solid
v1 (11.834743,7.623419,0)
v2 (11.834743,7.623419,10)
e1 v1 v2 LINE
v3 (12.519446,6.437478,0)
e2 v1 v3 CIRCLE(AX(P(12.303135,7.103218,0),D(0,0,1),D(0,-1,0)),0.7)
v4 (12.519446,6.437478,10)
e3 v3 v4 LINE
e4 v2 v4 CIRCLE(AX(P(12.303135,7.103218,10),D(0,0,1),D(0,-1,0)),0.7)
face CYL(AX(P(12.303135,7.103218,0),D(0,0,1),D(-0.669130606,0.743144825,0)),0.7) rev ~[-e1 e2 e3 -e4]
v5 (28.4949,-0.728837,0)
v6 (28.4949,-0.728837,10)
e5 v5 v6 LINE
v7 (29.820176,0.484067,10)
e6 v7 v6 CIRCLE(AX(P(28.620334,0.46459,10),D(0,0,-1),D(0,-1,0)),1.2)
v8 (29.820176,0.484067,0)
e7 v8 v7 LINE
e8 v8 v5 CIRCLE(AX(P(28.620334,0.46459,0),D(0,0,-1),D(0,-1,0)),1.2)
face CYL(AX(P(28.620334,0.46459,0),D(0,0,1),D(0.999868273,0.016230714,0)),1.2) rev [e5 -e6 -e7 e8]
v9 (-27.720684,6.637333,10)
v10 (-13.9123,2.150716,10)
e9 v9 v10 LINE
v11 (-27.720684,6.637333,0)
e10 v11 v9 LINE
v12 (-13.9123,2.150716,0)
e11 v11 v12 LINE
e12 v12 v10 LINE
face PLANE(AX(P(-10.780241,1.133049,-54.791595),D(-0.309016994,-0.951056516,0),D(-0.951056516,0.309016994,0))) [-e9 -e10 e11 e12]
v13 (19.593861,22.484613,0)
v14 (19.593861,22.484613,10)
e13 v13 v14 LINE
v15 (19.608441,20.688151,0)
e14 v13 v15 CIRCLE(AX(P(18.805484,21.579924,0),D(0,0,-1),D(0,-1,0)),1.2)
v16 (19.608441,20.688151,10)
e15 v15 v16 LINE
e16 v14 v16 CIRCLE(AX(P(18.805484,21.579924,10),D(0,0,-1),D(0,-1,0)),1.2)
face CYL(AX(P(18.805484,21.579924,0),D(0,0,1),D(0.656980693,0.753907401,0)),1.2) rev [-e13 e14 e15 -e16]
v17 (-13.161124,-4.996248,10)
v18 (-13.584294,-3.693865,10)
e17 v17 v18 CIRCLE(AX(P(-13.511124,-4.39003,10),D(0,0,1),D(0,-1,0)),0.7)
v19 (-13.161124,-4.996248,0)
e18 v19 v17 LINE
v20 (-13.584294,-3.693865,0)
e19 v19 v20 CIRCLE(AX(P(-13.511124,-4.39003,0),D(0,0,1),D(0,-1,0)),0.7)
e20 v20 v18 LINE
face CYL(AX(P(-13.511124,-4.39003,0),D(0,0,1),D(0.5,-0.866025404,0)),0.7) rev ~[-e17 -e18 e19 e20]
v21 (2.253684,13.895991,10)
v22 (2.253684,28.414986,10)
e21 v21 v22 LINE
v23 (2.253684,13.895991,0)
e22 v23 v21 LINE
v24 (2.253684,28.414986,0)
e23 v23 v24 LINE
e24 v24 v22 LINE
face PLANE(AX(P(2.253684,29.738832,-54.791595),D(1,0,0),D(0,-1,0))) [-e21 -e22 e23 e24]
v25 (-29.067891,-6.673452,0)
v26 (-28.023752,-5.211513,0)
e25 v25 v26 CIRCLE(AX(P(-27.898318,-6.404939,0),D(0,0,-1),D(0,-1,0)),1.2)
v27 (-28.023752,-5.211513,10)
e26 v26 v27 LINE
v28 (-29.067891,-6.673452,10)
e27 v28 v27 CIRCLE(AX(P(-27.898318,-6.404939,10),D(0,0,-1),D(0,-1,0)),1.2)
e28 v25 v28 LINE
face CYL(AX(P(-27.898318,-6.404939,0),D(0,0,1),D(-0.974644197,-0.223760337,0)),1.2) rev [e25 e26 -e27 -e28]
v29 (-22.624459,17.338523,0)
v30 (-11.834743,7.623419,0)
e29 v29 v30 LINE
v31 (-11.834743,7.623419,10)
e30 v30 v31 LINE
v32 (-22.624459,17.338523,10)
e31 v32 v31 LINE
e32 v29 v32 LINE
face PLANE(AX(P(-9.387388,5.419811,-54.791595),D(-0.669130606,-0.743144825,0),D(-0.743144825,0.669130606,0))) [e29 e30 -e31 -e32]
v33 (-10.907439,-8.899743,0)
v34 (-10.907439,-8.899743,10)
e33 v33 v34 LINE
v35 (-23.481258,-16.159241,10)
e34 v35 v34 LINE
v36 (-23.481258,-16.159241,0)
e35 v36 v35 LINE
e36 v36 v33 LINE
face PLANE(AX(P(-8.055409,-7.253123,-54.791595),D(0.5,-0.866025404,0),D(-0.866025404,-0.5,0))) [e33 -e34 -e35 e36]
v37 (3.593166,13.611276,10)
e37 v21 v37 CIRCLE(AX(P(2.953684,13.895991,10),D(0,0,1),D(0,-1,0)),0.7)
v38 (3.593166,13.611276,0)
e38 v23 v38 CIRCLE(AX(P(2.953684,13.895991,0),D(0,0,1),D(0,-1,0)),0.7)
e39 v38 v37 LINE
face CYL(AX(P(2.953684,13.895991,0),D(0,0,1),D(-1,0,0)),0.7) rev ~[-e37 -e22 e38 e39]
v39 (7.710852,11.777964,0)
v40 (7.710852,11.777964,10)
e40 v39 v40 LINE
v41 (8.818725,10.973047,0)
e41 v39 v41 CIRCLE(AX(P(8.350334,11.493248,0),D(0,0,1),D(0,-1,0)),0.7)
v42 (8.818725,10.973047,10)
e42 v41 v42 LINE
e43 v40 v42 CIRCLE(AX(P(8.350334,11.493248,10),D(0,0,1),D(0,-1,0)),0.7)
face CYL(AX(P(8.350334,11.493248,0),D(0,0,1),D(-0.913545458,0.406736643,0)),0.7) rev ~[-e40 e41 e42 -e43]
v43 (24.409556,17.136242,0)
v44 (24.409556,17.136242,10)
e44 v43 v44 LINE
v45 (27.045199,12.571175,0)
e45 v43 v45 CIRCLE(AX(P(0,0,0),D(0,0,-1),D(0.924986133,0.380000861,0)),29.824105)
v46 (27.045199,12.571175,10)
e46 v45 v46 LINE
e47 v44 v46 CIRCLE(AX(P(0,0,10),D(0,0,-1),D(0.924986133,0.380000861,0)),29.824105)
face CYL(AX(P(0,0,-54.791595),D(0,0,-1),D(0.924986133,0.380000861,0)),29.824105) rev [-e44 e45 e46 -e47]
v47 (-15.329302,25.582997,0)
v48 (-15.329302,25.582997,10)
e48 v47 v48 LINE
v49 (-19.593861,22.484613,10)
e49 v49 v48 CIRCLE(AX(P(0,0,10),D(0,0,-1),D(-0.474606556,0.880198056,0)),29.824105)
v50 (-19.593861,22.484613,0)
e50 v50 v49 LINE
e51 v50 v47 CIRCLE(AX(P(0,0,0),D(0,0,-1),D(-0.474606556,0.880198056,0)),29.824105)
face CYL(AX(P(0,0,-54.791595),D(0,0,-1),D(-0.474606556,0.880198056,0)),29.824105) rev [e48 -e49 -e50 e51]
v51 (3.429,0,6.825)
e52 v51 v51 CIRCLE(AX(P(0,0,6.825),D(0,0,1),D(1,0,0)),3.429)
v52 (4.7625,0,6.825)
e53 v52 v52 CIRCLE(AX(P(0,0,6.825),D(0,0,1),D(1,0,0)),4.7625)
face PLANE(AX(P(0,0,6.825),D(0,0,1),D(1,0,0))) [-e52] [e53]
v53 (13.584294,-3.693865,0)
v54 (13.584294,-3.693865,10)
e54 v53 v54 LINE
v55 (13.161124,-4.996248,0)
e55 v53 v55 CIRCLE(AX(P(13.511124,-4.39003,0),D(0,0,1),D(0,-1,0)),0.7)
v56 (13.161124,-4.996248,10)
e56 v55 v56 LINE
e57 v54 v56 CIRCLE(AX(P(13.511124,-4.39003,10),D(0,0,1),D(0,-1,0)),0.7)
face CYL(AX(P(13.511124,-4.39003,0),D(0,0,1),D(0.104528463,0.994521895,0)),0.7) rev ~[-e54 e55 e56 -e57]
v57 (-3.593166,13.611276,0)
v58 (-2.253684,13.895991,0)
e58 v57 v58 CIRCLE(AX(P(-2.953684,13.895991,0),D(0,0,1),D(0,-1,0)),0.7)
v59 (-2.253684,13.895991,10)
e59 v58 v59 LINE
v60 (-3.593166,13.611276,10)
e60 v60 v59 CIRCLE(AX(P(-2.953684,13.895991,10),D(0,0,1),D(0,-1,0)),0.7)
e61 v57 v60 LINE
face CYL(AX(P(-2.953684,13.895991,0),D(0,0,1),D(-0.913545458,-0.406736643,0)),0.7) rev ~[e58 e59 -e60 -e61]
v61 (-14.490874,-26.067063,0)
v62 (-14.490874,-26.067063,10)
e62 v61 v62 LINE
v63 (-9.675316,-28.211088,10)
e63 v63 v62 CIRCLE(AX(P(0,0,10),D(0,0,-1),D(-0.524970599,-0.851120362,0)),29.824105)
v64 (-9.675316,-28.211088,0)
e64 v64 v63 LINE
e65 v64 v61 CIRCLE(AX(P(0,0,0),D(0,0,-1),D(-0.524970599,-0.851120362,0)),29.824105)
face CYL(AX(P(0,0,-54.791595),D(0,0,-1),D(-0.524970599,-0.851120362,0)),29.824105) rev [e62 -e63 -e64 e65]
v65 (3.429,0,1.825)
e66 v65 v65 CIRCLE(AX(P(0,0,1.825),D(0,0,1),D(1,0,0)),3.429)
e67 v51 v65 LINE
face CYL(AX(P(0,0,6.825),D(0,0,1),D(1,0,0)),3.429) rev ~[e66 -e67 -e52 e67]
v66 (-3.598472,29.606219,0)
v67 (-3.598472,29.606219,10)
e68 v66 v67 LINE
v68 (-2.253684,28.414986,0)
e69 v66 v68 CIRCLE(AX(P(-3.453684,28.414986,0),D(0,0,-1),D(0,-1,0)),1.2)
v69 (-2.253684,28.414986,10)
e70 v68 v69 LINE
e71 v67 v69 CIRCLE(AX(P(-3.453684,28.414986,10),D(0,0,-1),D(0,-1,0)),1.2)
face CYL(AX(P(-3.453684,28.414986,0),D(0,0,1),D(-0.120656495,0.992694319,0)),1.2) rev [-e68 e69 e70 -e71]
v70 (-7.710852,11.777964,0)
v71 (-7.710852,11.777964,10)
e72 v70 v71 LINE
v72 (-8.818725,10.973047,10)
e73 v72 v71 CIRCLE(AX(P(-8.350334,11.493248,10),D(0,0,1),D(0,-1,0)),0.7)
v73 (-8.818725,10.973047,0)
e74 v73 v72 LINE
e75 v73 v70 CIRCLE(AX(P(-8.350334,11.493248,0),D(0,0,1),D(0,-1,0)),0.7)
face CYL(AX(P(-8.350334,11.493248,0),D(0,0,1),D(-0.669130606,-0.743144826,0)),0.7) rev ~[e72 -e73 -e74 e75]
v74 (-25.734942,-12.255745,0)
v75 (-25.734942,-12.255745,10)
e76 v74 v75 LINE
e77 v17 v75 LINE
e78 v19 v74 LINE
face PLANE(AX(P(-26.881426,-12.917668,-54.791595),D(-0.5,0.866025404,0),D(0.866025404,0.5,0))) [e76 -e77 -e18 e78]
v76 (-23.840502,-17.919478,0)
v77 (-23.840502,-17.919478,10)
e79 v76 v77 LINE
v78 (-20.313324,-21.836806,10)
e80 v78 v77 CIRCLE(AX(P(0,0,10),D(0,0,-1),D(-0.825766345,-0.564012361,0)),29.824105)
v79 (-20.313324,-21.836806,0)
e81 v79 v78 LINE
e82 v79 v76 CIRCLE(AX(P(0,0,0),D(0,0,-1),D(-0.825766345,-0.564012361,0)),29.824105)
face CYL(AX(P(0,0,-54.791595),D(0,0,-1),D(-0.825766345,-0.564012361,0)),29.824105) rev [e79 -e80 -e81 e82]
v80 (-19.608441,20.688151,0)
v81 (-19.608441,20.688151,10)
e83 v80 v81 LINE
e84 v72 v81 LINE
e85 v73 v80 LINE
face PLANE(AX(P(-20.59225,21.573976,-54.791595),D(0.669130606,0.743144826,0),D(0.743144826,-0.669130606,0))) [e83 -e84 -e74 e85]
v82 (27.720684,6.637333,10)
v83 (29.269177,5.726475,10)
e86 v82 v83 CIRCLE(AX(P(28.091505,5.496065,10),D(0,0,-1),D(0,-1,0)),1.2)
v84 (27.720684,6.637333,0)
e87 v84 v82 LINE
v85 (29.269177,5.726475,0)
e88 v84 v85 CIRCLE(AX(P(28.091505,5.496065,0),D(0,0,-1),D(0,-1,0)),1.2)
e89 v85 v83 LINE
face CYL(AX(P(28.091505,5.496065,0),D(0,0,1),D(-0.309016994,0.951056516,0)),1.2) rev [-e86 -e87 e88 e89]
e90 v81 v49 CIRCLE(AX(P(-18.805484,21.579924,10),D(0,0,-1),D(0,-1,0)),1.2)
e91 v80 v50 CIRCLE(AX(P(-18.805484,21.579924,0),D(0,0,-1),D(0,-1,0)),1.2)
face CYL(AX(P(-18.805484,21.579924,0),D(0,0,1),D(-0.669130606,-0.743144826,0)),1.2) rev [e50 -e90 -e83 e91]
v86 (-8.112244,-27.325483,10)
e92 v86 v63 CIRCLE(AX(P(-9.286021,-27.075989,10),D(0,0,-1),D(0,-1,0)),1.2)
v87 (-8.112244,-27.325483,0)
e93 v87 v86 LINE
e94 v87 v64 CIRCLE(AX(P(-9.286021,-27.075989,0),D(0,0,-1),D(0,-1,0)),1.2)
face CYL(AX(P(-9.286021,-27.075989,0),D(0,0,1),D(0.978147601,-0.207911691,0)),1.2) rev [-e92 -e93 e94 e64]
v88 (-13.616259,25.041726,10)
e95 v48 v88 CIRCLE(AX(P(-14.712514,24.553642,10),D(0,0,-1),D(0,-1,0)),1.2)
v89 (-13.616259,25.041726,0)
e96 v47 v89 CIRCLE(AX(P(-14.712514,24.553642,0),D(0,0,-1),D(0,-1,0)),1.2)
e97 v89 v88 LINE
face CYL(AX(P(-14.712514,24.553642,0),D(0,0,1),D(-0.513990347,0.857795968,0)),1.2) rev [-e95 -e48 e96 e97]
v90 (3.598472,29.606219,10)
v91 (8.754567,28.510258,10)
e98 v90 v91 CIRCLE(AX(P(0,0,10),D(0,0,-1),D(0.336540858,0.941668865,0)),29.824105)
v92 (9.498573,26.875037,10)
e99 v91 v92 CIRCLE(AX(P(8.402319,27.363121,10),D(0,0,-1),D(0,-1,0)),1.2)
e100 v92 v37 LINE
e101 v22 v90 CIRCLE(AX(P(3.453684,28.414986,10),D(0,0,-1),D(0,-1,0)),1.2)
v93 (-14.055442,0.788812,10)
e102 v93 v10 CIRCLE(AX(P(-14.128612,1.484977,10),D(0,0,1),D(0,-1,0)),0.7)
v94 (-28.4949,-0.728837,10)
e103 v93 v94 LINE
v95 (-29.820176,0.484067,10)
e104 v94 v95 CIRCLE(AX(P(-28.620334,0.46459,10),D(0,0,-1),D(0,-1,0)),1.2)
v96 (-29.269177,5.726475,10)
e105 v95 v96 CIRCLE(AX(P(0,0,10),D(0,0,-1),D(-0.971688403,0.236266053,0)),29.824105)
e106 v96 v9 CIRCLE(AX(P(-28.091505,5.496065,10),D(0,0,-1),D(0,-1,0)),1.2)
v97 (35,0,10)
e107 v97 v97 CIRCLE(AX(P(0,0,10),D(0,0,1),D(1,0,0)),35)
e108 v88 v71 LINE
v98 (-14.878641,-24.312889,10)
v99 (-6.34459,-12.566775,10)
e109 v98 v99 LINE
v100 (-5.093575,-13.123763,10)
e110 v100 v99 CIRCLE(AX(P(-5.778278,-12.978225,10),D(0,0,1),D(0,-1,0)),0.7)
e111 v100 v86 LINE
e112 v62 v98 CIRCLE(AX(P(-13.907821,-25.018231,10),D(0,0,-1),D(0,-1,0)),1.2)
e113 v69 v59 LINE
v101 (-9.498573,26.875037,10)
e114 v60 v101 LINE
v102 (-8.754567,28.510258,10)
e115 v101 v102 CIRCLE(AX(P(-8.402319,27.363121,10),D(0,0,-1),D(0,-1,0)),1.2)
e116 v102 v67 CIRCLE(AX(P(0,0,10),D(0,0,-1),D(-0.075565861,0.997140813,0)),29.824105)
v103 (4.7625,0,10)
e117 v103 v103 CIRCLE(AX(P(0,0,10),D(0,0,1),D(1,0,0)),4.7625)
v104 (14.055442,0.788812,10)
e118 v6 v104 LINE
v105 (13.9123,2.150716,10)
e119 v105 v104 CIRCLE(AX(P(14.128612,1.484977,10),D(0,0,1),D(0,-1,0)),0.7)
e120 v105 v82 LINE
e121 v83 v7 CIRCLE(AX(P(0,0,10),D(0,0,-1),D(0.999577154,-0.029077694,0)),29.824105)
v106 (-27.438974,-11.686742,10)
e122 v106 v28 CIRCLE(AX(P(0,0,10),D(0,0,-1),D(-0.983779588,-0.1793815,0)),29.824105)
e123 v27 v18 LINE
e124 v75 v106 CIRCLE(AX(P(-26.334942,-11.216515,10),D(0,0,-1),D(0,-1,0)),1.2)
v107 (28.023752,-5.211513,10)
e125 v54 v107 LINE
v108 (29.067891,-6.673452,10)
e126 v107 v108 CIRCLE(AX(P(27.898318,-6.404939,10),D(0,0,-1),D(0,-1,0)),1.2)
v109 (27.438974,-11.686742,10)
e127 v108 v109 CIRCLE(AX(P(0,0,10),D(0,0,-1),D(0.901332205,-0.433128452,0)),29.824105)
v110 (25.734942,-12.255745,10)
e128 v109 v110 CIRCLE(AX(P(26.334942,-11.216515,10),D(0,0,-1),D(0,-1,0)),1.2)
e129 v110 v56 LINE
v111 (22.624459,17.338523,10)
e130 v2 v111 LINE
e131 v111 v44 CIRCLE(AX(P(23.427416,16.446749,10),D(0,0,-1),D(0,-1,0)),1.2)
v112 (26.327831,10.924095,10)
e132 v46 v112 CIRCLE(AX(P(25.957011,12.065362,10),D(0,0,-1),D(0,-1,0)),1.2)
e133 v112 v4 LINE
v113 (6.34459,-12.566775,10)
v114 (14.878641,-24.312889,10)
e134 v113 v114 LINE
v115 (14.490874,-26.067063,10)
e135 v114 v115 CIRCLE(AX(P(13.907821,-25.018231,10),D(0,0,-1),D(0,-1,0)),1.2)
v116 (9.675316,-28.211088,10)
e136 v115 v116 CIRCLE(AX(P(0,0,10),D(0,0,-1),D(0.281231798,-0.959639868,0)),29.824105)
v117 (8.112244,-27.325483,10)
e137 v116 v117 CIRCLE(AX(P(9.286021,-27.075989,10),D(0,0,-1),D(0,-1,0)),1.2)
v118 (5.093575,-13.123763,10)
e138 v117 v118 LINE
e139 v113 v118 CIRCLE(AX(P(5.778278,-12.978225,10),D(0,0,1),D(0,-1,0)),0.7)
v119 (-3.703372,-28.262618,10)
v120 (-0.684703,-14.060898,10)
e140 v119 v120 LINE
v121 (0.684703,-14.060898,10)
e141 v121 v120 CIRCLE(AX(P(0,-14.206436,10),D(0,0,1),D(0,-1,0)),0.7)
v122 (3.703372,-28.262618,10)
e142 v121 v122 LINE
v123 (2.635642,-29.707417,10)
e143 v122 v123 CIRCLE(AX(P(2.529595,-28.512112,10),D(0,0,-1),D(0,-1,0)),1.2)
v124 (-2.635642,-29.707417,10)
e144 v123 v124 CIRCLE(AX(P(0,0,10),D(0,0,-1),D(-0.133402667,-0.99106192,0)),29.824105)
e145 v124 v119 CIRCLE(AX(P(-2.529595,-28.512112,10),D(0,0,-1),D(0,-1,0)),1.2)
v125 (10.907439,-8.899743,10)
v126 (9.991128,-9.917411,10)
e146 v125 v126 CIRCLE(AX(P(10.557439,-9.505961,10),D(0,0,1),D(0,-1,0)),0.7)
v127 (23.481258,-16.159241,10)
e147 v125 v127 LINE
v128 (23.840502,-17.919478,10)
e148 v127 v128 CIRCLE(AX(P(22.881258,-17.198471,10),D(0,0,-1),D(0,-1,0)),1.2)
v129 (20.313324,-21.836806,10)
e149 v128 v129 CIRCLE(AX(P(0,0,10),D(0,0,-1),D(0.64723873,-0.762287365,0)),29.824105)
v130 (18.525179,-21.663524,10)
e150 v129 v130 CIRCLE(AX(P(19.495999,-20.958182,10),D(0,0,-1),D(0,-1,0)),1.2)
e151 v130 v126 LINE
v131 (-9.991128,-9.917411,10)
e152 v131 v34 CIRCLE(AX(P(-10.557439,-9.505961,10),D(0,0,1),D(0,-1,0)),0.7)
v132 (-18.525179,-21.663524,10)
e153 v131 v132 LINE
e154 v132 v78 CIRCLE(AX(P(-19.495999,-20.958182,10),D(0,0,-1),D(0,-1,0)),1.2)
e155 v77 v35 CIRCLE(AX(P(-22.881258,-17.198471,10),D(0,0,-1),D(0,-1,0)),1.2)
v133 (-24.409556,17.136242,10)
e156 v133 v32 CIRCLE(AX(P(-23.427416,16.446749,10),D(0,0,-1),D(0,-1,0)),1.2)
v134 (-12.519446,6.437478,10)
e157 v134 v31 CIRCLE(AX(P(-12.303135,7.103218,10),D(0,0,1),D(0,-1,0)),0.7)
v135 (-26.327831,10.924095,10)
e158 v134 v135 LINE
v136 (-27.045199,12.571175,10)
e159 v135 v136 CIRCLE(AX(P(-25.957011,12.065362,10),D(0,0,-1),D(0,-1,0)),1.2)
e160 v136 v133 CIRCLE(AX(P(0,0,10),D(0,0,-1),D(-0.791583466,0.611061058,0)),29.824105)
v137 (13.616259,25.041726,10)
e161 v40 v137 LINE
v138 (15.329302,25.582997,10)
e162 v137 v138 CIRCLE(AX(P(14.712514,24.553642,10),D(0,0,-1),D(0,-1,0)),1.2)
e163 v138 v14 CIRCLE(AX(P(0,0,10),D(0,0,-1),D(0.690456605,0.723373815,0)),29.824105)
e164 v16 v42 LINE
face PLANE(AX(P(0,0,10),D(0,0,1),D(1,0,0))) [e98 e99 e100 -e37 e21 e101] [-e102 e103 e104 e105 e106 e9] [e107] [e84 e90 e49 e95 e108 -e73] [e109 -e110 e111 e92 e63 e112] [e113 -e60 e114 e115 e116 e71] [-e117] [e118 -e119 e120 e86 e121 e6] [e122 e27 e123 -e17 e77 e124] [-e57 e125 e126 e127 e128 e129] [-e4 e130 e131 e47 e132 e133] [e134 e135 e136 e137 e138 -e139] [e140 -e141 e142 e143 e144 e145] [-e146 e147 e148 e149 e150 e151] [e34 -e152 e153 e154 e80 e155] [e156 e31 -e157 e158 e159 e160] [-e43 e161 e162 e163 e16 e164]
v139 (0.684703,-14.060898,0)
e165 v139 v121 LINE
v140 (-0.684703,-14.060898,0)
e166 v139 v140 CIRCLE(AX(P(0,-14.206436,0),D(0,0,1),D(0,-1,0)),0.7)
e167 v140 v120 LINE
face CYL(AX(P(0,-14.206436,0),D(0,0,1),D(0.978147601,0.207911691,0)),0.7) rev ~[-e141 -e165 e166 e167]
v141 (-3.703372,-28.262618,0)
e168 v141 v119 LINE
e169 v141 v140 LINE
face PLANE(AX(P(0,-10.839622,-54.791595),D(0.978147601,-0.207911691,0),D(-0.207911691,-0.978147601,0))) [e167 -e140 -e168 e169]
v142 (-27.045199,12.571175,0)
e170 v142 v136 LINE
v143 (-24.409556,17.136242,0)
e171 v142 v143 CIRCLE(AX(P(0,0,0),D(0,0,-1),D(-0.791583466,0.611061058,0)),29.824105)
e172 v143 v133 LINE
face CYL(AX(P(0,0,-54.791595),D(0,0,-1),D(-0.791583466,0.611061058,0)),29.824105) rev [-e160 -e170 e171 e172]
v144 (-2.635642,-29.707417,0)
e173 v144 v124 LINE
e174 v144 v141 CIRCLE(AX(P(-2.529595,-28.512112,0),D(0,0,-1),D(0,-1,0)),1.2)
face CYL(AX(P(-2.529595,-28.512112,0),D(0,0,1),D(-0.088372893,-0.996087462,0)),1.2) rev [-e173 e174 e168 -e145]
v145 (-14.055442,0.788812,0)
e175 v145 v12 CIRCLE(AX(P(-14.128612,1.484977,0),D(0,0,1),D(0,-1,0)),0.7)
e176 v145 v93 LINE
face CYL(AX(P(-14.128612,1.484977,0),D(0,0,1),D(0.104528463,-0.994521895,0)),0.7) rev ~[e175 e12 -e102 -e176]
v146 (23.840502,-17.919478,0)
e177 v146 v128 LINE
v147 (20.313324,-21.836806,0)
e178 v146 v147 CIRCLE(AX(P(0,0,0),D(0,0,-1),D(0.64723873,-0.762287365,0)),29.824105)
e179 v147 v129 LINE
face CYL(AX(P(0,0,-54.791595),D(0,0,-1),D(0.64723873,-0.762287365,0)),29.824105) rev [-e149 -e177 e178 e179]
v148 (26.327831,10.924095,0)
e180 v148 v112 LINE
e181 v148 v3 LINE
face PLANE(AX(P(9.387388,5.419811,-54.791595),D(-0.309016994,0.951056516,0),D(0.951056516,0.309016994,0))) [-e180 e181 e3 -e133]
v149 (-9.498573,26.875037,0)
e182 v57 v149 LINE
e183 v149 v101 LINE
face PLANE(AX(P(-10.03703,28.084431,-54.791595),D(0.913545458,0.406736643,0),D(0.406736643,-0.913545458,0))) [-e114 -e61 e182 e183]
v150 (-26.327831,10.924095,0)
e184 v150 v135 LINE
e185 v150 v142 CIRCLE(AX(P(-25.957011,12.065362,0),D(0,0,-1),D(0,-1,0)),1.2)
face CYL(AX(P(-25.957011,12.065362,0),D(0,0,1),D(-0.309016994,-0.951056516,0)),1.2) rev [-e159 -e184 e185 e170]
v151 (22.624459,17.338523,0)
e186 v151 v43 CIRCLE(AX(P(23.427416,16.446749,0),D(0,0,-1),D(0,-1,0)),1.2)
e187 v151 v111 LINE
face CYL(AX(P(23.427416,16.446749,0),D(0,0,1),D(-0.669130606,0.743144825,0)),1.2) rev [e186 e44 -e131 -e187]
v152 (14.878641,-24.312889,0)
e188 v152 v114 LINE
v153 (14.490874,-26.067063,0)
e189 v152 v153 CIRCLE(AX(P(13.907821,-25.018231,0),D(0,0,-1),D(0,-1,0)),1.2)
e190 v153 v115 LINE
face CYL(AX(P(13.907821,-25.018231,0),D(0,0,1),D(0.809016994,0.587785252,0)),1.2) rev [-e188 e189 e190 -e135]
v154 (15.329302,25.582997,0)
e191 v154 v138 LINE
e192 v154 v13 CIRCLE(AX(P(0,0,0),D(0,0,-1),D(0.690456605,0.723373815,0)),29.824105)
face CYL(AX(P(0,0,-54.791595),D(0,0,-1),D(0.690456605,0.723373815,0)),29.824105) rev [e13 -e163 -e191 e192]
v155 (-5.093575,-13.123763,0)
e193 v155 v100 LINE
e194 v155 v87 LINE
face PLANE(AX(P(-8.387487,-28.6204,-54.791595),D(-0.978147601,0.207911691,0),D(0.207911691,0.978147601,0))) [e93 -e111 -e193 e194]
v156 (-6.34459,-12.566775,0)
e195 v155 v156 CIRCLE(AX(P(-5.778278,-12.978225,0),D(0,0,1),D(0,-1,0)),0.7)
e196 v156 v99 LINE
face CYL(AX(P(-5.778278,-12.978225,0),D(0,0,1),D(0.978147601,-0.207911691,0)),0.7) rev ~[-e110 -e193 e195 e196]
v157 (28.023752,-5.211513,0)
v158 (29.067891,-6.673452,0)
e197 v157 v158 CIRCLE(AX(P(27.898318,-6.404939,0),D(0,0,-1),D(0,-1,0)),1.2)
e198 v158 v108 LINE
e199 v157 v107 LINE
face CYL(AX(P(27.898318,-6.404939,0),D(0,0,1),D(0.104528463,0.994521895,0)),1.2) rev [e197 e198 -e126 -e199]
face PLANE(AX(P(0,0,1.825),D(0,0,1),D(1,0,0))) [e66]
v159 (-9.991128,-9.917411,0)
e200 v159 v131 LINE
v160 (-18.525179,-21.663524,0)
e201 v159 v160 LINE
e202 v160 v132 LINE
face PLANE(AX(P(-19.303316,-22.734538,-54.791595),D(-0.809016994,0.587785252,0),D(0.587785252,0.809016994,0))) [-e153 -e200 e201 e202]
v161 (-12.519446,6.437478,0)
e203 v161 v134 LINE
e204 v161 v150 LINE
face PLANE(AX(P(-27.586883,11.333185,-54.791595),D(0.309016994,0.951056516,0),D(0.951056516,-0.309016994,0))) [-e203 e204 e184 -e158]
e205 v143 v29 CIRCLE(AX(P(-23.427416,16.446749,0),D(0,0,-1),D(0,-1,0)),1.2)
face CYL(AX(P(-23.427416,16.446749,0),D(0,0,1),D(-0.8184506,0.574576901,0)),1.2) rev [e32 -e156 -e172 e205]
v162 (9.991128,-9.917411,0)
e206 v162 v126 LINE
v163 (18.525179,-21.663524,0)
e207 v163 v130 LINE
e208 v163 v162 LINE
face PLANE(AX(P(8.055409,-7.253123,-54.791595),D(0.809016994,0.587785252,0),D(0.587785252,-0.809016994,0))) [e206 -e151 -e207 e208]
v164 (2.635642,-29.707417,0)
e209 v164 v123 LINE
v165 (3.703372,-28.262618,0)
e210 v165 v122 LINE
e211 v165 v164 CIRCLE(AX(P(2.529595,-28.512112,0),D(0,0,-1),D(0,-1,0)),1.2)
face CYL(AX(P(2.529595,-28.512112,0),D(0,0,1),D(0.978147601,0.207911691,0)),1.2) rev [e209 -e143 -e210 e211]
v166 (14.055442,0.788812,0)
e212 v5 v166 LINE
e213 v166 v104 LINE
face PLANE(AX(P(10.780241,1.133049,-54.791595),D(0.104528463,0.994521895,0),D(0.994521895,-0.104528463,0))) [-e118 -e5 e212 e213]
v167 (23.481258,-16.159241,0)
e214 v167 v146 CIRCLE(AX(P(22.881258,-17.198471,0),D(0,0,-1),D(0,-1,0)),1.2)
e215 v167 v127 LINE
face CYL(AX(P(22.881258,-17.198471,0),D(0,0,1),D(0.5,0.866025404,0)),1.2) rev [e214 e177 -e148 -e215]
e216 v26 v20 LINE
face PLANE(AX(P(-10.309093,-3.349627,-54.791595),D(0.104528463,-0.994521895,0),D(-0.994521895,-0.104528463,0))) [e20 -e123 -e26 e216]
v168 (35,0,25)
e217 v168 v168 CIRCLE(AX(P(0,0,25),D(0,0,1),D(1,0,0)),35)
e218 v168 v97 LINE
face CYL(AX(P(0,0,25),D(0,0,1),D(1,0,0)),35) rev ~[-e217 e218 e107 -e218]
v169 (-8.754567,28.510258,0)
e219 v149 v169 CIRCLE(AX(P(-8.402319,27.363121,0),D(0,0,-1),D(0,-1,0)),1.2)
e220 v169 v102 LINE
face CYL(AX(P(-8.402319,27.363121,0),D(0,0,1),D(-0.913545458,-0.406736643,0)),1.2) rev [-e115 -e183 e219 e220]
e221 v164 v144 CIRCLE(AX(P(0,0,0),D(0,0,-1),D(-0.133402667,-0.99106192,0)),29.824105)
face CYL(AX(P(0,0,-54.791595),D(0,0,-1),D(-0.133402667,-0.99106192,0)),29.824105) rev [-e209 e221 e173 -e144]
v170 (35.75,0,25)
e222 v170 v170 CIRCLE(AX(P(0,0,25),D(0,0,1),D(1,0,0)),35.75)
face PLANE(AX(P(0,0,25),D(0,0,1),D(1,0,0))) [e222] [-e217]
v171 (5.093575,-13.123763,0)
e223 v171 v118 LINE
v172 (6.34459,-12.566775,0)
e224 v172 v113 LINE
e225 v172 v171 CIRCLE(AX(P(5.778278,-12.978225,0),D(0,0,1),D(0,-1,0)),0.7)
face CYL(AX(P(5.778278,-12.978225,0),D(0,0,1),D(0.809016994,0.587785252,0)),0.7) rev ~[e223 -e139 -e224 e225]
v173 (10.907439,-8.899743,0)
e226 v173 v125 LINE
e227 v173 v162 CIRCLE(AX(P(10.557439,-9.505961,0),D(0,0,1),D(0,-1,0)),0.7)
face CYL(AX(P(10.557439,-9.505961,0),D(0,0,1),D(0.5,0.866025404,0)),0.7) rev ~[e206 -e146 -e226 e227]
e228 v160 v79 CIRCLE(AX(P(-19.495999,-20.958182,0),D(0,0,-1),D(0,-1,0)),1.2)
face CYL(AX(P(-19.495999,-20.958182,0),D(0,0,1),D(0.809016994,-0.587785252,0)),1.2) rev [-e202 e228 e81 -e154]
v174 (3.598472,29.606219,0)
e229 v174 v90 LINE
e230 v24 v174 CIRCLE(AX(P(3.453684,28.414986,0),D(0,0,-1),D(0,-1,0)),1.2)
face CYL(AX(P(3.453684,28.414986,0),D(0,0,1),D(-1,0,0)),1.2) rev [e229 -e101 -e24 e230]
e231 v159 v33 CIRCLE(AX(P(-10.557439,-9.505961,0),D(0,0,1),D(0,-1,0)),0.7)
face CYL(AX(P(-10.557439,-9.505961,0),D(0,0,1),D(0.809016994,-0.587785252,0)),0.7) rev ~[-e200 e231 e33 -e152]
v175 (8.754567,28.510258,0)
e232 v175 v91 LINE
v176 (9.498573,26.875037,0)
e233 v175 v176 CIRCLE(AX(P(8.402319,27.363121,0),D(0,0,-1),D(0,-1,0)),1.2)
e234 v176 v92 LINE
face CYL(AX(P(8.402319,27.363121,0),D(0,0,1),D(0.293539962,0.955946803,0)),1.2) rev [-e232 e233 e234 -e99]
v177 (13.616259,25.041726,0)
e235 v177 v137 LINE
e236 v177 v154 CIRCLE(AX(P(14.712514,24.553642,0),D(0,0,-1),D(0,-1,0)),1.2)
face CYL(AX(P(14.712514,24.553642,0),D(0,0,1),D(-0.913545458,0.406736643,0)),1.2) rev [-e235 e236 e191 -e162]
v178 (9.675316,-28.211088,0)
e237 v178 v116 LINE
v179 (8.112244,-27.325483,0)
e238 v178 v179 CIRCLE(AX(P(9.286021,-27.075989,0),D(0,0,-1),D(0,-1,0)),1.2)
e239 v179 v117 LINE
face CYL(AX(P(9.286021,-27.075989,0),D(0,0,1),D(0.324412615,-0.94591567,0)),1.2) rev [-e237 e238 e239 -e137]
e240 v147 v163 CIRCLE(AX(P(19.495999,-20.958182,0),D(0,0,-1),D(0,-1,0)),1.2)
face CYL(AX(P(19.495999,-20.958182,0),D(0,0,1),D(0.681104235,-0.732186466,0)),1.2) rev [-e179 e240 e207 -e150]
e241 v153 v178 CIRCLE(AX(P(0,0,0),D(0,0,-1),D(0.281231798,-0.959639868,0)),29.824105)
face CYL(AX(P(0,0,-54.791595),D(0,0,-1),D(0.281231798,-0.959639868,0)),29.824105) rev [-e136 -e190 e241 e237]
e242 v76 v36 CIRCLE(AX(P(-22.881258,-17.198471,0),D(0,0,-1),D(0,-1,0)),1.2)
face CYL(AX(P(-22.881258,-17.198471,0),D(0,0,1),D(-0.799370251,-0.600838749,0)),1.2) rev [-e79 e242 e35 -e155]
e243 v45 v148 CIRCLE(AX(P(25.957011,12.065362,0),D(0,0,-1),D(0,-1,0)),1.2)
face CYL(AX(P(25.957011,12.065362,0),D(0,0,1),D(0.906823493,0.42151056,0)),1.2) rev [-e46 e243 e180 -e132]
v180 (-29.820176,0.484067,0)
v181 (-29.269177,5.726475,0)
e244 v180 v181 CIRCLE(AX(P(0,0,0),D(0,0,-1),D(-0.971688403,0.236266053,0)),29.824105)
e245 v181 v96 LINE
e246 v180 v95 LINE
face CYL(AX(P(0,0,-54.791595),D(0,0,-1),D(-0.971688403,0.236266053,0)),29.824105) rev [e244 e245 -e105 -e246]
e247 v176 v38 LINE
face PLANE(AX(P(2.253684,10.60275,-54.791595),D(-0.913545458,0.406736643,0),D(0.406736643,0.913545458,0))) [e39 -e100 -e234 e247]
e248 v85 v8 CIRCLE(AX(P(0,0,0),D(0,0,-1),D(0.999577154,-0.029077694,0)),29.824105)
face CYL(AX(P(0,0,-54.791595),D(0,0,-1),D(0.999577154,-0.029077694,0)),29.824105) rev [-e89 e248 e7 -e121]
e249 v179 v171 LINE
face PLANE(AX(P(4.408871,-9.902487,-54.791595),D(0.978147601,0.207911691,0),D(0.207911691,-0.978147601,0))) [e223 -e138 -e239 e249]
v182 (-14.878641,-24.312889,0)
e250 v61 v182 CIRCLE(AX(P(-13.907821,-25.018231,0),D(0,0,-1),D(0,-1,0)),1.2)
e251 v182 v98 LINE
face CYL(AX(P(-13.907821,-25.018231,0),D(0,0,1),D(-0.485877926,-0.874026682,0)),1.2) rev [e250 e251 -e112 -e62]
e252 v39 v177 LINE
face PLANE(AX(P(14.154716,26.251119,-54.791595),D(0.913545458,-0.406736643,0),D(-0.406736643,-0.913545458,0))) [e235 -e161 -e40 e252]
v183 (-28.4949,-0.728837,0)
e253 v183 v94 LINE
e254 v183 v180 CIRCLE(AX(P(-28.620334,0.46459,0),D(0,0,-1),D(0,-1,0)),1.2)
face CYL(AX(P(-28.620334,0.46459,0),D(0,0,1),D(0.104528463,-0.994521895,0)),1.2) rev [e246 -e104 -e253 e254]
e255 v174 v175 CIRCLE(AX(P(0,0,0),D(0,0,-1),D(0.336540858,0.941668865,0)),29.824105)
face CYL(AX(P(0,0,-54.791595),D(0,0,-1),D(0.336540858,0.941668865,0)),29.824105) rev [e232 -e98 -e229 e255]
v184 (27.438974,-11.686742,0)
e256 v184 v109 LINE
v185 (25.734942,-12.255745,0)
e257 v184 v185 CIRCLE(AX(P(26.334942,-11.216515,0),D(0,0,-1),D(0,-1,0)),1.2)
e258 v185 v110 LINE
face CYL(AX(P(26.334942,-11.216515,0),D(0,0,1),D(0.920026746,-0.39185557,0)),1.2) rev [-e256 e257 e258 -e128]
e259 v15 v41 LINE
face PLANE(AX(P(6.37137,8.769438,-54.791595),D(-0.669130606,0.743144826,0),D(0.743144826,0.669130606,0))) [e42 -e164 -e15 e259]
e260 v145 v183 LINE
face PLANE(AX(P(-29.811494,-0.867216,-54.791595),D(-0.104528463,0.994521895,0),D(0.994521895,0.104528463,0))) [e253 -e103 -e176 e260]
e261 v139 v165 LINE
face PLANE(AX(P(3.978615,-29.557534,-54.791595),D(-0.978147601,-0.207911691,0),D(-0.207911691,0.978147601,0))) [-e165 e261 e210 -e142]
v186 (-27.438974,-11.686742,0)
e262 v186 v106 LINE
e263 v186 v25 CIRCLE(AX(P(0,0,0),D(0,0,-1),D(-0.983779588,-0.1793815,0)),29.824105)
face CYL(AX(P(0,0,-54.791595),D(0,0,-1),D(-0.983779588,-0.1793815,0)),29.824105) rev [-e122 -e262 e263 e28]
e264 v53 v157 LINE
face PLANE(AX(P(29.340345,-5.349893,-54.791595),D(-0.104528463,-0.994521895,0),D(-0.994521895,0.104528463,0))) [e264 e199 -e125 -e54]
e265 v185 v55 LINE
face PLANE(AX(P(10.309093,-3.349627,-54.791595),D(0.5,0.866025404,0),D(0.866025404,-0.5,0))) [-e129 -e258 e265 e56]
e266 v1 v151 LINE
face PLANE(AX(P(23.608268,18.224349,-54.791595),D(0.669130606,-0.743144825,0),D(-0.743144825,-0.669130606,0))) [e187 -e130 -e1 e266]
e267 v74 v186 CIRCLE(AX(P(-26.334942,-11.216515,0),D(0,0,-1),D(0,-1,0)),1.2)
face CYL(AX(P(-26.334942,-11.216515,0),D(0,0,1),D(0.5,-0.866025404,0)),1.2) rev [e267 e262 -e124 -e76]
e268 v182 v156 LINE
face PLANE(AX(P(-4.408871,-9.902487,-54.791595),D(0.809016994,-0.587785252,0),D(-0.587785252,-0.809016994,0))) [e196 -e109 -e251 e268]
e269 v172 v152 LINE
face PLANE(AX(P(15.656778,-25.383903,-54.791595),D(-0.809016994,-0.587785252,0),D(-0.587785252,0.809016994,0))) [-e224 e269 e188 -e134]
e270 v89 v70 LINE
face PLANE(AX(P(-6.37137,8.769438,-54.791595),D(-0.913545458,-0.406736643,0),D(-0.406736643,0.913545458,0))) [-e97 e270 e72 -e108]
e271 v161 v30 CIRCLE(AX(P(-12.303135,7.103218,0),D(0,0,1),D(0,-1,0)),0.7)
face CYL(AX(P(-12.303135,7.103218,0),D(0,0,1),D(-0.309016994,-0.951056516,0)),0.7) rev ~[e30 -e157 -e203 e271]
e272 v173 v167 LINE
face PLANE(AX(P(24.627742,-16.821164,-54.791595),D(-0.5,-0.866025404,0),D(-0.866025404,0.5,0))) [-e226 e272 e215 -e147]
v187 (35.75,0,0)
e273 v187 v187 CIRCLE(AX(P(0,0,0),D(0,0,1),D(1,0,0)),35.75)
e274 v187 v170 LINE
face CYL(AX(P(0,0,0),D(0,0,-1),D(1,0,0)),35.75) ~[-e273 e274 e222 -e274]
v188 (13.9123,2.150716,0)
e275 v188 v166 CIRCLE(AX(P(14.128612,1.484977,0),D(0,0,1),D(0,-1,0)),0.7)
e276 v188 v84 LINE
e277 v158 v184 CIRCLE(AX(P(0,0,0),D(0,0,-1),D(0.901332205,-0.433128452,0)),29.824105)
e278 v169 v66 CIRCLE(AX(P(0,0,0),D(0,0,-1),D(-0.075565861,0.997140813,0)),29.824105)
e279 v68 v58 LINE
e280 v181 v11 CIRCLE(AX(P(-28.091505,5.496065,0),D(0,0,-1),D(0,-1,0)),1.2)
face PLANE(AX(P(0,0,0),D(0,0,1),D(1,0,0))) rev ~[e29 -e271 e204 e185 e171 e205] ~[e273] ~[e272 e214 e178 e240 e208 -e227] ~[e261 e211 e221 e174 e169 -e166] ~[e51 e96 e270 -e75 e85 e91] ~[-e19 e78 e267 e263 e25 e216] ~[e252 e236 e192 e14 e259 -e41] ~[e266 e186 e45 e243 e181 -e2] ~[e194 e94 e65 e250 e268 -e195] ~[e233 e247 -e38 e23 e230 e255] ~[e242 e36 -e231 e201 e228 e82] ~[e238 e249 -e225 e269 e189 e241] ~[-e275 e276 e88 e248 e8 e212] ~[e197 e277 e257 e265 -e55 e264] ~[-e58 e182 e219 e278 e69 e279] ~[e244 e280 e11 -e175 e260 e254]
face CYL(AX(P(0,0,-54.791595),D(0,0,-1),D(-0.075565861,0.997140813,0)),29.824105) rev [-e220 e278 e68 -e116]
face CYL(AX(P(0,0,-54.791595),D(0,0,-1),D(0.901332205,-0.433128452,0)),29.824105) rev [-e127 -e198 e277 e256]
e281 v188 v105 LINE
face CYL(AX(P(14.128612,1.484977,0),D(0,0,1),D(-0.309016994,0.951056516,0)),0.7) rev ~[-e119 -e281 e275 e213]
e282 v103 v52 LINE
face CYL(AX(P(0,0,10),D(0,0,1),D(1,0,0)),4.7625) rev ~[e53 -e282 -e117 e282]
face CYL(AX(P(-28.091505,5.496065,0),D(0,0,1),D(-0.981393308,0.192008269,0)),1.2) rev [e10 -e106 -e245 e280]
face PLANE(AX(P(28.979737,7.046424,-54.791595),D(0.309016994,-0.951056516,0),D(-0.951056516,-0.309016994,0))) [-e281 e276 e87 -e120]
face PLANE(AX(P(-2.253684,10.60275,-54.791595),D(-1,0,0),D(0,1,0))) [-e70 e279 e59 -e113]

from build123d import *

# Parameters (mm, degrees)
SKETCH1_R               = 35.75
OUTERCASE_DEPTH         = 25
SKETCH2_R               = 35
CUT_EXTRUDE1_DEPTH      = 15
SKETCH3_R               = 4.7625
BEARING_DEPTH           = 3.175
SKETCH4_R               = 3.429
SHAFT_ROOM_DEPTH        = 5
CUT_EXTRUDE4_DEPTH      = 56.616594871
CUT_EXTRUDE4_DEPTH_BACK = 56.616594871
FILLET1_R               = 0.7
FILLET2_R               = 1.2


with BuildPart() as part:
    # Sketch1 → OuterCase (new body)
    with BuildSketch(Plane.XY):
        Circle(SKETCH1_R)
    extrude(amount=OUTERCASE_DEPTH)

    # Sketch2 → Cut-Extrude1 (cut)
    with BuildSketch(Plane.XY.offset(25)):
        Circle(SKETCH2_R)
    extrude(amount=-CUT_EXTRUDE1_DEPTH, mode=Mode.SUBTRACT)

    # Sketch3 → Bearing (cut)
    with BuildSketch(Plane.XY.offset(10)):
        Circle(SKETCH3_R)
    extrude(amount=-BEARING_DEPTH, mode=Mode.SUBTRACT)

    # Sketch4 → Shaft_Room (cut)
    with BuildSketch(Plane.XY.offset(6.825)):
        Circle(SKETCH4_R)
    extrude(amount=-SHAFT_ROOM_DEPTH, mode=Mode.SUBTRACT)

    # Sketch6 → Cut-Extrude4 (cut, two sides: drawn at the far end of the back side and taken through both)
    with BuildSketch(Plane.XY.offset(1.825).offset(-CUT_EXTRUDE4_DEPTH_BACK)):
        with BuildLine():
            ThreePointArc((19.303315658, -22.734538204), (22.163629102, -19.95622128), (24.627741947, -16.821163733))
            Line((24.627741947, -16.821163733), (8.05540901, -7.253122851))
            Line((8.05540901, -7.253122851), (19.303315658, -22.734538204))
        make_face()
        with BuildLine():
            ThreePointArc((26.881426088, -12.917668297), (28.364409143, -9.216155203), (29.340345457, -5.349892635))
            Line((29.340345457, -5.349892635), (10.30909315, -3.349627415))
            Line((10.30909315, -3.349627415), (26.881426088, -12.917668297))
        make_face()
        with BuildLine():
            ThreePointArc((8.387486585, -28.620399919), (12.130556239, -27.245675401), (15.656778118, -25.383902807))
            Line((15.656778118, -25.383902807), (4.40887147, -9.902487453))
            Line((4.40887147, -9.902487453), (8.387486585, -28.620399919))
        make_face()
        with BuildLine():
            ThreePointArc((-3.978615115, -29.55753448), (0, -29.824104727), (3.978615115, -29.55753448))
            Line((3.978615115, -29.55753448), (0, -10.839622014))
            Line((0, -10.839622014), (-3.978615115, -29.55753448))
        make_face()
        with BuildLine():
            ThreePointArc((-15.656778118, -25.383902807), (-12.130556239, -27.245675401), (-8.387486585, -28.620399919))
            Line((-8.387486585, -28.620399919), (-4.40887147, -9.902487453))
            Line((-4.40887147, -9.902487453), (-15.656778118, -25.383902807))
        make_face()
        with BuildLine():
            ThreePointArc((-24.627741947, -16.821163733), (-22.163629102, -19.95622128), (-19.303315658, -22.734538204))
            Line((-19.303315658, -22.734538204), (-8.05540901, -7.253122851))
            Line((-8.05540901, -7.253122851), (-24.627741947, -16.821163733))
        make_face()
        with BuildLine():
            ThreePointArc((-29.340345457, -5.349892635), (-28.364409143, -9.216155203), (-26.881426088, -12.917668297))
            Line((-26.881426088, -12.917668297), (-10.30909315, -3.349627415))
            Line((-10.30909315, -3.349627415), (-29.340345457, -5.349892635))
        make_face()
        with BuildLine():
            ThreePointArc((-28.979736689, 7.046423503), (-29.66072516, 3.117467835), (-29.811493737, -0.867216188))
            Line((-29.811493737, -0.867216188), (-10.78024143, 1.133049031))
            Line((-10.78024143, 1.133049031), (-28.979736689, 7.046423503))
        make_face()
        with BuildLine():
            ThreePointArc((-23.608268175, 18.224349002), (-25.828432338, 14.912052363), (-27.58688329, 11.333185478))
            Line((-27.58688329, 11.333185478), (-9.387388031, 5.419811007))
            Line((-9.387388031, 5.419811007), (-23.608268175, 18.224349002))
        make_face()
        with BuildLine():
            ThreePointArc((-14.154715619, 26.251118995), (-17.530168921, 24.128207566), (-20.592250104, 21.573976416))
            Line((-20.592250104, 21.573976416), (-6.37136996, 8.769438422))
            Line((-6.37136996, 8.769438422), (-14.154715619, 26.251118995))
        make_face()
        with BuildLine():
            Line((-2.253684141, 10.602750266), (-2.253684141, 29.738832031))
            ThreePointArc((-2.253684141, 29.738832031), (-6.200780041, 29.172376482), (-10.037029799, 28.084430839))
            Line((-10.037029799, 28.084430839), (-2.253684141, 10.602750266))
        make_face()
        with BuildLine():
            ThreePointArc((10.037029799, 28.084430839), (6.200780041, 29.172376482), (2.253684141, 29.738832031))
            Line((2.253684141, 29.738832031), (2.253684141, 10.602750266))
            Line((2.253684141, 10.602750266), (10.037029799, 28.084430839))
        make_face()
        with BuildLine():
            ThreePointArc((20.592250104, 21.573976416), (17.530168921, 24.128207566), (14.154715619, 26.251118995))
            Line((14.154715619, 26.251118995), (6.37136996, 8.769438422))
            Line((6.37136996, 8.769438422), (20.592250104, 21.573976416))
        make_face()
        with BuildLine():
            ThreePointArc((27.58688329, 11.333185478), (25.828432338, 14.912052363), (23.608268175, 18.224349002))
            Line((23.608268175, 18.224349002), (9.387388031, 5.419811007))
            Line((9.387388031, 5.419811007), (27.58688329, 11.333185478))
        make_face()
        with BuildLine():
            ThreePointArc((29.811493737, -0.867216188), (29.66072516, 3.117467835), (28.979736689, 7.046423503))
            Line((28.979736689, 7.046423503), (10.78024143, 1.133049031))
            Line((10.78024143, 1.133049031), (29.811493737, -0.867216188))
        make_face()
    extrude(amount=CUT_EXTRUDE4_DEPTH + CUT_EXTRUDE4_DEPTH_BACK, mode=Mode.SUBTRACT)

    # Fillet1
    fillet1_edges = [part.edges().sort_by_distance(p)[0] for p in [
        (-4.40887147, -9.902487453, 5),
        (0, -10.839622014, 5),
        (10.30909315, -3.349627415, 5),
        (4.40887147, -9.902487453, 5),
        (9.387388031, 5.419811007, 5),
        (10.78024143, 1.133049031, 5),
        (2.253684141, 10.602750266, 5),
        (6.37136996, 8.769438422, 5),
        (-6.37136996, 8.769438422, 5),
        (-2.253684141, 10.602750266, 5),
        (8.05540901, -7.253122851, 5),
        (-10.78024143, 1.133049031, 5),
        (-9.387388031, 5.419811007, 5),
        (-8.05540901, -7.253122851, 5),
        (-10.30909315, -3.349627415, 5),
    ]]
    fillet(fillet1_edges, radius=FILLET1_R)

    # Fillet2
    fillet2_edges = [part.edges().sort_by_distance(p)[0] for p in [
        (-26.881426088, -12.917668297, 5),
        (-15.656778118, -25.383902807, 5),
        (-8.387486585, -28.620399919, 5),
        (-3.978615115, -29.55753448, 5),
        (3.978615115, -29.55753448, 5),
        (26.881426088, -12.917668297, 5),
        (29.340345457, -5.349892635, 5),
        (8.387486585, -28.620399919, 5),
        (15.656778118, -25.383902807, 5),
        (27.58688329, 11.333185478, 5),
        (23.608268175, 18.224349002, 5),
        (29.811493737, -0.867216188, 5),
        (28.979736689, 7.046423503, 5),
        (10.037029799, 28.084430839, 5),
        (2.253684141, 29.738832031, 5),
        (20.592250104, 21.573976416, 5),
        (14.154715619, 26.251118995, 5),
        (-14.154715619, 26.251118995, 5),
        (-20.592250104, 21.573976416, 5),
        (-2.253684141, 29.738832031, 5),
        (-10.037029799, 28.084430839, 5),
        (19.303315658, -22.734538204, 5),
        (24.627741947, -16.821163733, 5),
        (-28.979736689, 7.046423503, 5),
        (-29.811493737, -0.867216188, 5),
        (-23.608268175, 18.224349002, 5),
        (-27.58688329, 11.333185478, 5),
        (-24.627741947, -16.821163733, 5),
        (-19.303315658, -22.734538204, 5),
        (-29.340345457, -5.349892635, 5),
    ]]
    fillet(fillet2_edges, radius=FILLET2_R)


solid = part.part
